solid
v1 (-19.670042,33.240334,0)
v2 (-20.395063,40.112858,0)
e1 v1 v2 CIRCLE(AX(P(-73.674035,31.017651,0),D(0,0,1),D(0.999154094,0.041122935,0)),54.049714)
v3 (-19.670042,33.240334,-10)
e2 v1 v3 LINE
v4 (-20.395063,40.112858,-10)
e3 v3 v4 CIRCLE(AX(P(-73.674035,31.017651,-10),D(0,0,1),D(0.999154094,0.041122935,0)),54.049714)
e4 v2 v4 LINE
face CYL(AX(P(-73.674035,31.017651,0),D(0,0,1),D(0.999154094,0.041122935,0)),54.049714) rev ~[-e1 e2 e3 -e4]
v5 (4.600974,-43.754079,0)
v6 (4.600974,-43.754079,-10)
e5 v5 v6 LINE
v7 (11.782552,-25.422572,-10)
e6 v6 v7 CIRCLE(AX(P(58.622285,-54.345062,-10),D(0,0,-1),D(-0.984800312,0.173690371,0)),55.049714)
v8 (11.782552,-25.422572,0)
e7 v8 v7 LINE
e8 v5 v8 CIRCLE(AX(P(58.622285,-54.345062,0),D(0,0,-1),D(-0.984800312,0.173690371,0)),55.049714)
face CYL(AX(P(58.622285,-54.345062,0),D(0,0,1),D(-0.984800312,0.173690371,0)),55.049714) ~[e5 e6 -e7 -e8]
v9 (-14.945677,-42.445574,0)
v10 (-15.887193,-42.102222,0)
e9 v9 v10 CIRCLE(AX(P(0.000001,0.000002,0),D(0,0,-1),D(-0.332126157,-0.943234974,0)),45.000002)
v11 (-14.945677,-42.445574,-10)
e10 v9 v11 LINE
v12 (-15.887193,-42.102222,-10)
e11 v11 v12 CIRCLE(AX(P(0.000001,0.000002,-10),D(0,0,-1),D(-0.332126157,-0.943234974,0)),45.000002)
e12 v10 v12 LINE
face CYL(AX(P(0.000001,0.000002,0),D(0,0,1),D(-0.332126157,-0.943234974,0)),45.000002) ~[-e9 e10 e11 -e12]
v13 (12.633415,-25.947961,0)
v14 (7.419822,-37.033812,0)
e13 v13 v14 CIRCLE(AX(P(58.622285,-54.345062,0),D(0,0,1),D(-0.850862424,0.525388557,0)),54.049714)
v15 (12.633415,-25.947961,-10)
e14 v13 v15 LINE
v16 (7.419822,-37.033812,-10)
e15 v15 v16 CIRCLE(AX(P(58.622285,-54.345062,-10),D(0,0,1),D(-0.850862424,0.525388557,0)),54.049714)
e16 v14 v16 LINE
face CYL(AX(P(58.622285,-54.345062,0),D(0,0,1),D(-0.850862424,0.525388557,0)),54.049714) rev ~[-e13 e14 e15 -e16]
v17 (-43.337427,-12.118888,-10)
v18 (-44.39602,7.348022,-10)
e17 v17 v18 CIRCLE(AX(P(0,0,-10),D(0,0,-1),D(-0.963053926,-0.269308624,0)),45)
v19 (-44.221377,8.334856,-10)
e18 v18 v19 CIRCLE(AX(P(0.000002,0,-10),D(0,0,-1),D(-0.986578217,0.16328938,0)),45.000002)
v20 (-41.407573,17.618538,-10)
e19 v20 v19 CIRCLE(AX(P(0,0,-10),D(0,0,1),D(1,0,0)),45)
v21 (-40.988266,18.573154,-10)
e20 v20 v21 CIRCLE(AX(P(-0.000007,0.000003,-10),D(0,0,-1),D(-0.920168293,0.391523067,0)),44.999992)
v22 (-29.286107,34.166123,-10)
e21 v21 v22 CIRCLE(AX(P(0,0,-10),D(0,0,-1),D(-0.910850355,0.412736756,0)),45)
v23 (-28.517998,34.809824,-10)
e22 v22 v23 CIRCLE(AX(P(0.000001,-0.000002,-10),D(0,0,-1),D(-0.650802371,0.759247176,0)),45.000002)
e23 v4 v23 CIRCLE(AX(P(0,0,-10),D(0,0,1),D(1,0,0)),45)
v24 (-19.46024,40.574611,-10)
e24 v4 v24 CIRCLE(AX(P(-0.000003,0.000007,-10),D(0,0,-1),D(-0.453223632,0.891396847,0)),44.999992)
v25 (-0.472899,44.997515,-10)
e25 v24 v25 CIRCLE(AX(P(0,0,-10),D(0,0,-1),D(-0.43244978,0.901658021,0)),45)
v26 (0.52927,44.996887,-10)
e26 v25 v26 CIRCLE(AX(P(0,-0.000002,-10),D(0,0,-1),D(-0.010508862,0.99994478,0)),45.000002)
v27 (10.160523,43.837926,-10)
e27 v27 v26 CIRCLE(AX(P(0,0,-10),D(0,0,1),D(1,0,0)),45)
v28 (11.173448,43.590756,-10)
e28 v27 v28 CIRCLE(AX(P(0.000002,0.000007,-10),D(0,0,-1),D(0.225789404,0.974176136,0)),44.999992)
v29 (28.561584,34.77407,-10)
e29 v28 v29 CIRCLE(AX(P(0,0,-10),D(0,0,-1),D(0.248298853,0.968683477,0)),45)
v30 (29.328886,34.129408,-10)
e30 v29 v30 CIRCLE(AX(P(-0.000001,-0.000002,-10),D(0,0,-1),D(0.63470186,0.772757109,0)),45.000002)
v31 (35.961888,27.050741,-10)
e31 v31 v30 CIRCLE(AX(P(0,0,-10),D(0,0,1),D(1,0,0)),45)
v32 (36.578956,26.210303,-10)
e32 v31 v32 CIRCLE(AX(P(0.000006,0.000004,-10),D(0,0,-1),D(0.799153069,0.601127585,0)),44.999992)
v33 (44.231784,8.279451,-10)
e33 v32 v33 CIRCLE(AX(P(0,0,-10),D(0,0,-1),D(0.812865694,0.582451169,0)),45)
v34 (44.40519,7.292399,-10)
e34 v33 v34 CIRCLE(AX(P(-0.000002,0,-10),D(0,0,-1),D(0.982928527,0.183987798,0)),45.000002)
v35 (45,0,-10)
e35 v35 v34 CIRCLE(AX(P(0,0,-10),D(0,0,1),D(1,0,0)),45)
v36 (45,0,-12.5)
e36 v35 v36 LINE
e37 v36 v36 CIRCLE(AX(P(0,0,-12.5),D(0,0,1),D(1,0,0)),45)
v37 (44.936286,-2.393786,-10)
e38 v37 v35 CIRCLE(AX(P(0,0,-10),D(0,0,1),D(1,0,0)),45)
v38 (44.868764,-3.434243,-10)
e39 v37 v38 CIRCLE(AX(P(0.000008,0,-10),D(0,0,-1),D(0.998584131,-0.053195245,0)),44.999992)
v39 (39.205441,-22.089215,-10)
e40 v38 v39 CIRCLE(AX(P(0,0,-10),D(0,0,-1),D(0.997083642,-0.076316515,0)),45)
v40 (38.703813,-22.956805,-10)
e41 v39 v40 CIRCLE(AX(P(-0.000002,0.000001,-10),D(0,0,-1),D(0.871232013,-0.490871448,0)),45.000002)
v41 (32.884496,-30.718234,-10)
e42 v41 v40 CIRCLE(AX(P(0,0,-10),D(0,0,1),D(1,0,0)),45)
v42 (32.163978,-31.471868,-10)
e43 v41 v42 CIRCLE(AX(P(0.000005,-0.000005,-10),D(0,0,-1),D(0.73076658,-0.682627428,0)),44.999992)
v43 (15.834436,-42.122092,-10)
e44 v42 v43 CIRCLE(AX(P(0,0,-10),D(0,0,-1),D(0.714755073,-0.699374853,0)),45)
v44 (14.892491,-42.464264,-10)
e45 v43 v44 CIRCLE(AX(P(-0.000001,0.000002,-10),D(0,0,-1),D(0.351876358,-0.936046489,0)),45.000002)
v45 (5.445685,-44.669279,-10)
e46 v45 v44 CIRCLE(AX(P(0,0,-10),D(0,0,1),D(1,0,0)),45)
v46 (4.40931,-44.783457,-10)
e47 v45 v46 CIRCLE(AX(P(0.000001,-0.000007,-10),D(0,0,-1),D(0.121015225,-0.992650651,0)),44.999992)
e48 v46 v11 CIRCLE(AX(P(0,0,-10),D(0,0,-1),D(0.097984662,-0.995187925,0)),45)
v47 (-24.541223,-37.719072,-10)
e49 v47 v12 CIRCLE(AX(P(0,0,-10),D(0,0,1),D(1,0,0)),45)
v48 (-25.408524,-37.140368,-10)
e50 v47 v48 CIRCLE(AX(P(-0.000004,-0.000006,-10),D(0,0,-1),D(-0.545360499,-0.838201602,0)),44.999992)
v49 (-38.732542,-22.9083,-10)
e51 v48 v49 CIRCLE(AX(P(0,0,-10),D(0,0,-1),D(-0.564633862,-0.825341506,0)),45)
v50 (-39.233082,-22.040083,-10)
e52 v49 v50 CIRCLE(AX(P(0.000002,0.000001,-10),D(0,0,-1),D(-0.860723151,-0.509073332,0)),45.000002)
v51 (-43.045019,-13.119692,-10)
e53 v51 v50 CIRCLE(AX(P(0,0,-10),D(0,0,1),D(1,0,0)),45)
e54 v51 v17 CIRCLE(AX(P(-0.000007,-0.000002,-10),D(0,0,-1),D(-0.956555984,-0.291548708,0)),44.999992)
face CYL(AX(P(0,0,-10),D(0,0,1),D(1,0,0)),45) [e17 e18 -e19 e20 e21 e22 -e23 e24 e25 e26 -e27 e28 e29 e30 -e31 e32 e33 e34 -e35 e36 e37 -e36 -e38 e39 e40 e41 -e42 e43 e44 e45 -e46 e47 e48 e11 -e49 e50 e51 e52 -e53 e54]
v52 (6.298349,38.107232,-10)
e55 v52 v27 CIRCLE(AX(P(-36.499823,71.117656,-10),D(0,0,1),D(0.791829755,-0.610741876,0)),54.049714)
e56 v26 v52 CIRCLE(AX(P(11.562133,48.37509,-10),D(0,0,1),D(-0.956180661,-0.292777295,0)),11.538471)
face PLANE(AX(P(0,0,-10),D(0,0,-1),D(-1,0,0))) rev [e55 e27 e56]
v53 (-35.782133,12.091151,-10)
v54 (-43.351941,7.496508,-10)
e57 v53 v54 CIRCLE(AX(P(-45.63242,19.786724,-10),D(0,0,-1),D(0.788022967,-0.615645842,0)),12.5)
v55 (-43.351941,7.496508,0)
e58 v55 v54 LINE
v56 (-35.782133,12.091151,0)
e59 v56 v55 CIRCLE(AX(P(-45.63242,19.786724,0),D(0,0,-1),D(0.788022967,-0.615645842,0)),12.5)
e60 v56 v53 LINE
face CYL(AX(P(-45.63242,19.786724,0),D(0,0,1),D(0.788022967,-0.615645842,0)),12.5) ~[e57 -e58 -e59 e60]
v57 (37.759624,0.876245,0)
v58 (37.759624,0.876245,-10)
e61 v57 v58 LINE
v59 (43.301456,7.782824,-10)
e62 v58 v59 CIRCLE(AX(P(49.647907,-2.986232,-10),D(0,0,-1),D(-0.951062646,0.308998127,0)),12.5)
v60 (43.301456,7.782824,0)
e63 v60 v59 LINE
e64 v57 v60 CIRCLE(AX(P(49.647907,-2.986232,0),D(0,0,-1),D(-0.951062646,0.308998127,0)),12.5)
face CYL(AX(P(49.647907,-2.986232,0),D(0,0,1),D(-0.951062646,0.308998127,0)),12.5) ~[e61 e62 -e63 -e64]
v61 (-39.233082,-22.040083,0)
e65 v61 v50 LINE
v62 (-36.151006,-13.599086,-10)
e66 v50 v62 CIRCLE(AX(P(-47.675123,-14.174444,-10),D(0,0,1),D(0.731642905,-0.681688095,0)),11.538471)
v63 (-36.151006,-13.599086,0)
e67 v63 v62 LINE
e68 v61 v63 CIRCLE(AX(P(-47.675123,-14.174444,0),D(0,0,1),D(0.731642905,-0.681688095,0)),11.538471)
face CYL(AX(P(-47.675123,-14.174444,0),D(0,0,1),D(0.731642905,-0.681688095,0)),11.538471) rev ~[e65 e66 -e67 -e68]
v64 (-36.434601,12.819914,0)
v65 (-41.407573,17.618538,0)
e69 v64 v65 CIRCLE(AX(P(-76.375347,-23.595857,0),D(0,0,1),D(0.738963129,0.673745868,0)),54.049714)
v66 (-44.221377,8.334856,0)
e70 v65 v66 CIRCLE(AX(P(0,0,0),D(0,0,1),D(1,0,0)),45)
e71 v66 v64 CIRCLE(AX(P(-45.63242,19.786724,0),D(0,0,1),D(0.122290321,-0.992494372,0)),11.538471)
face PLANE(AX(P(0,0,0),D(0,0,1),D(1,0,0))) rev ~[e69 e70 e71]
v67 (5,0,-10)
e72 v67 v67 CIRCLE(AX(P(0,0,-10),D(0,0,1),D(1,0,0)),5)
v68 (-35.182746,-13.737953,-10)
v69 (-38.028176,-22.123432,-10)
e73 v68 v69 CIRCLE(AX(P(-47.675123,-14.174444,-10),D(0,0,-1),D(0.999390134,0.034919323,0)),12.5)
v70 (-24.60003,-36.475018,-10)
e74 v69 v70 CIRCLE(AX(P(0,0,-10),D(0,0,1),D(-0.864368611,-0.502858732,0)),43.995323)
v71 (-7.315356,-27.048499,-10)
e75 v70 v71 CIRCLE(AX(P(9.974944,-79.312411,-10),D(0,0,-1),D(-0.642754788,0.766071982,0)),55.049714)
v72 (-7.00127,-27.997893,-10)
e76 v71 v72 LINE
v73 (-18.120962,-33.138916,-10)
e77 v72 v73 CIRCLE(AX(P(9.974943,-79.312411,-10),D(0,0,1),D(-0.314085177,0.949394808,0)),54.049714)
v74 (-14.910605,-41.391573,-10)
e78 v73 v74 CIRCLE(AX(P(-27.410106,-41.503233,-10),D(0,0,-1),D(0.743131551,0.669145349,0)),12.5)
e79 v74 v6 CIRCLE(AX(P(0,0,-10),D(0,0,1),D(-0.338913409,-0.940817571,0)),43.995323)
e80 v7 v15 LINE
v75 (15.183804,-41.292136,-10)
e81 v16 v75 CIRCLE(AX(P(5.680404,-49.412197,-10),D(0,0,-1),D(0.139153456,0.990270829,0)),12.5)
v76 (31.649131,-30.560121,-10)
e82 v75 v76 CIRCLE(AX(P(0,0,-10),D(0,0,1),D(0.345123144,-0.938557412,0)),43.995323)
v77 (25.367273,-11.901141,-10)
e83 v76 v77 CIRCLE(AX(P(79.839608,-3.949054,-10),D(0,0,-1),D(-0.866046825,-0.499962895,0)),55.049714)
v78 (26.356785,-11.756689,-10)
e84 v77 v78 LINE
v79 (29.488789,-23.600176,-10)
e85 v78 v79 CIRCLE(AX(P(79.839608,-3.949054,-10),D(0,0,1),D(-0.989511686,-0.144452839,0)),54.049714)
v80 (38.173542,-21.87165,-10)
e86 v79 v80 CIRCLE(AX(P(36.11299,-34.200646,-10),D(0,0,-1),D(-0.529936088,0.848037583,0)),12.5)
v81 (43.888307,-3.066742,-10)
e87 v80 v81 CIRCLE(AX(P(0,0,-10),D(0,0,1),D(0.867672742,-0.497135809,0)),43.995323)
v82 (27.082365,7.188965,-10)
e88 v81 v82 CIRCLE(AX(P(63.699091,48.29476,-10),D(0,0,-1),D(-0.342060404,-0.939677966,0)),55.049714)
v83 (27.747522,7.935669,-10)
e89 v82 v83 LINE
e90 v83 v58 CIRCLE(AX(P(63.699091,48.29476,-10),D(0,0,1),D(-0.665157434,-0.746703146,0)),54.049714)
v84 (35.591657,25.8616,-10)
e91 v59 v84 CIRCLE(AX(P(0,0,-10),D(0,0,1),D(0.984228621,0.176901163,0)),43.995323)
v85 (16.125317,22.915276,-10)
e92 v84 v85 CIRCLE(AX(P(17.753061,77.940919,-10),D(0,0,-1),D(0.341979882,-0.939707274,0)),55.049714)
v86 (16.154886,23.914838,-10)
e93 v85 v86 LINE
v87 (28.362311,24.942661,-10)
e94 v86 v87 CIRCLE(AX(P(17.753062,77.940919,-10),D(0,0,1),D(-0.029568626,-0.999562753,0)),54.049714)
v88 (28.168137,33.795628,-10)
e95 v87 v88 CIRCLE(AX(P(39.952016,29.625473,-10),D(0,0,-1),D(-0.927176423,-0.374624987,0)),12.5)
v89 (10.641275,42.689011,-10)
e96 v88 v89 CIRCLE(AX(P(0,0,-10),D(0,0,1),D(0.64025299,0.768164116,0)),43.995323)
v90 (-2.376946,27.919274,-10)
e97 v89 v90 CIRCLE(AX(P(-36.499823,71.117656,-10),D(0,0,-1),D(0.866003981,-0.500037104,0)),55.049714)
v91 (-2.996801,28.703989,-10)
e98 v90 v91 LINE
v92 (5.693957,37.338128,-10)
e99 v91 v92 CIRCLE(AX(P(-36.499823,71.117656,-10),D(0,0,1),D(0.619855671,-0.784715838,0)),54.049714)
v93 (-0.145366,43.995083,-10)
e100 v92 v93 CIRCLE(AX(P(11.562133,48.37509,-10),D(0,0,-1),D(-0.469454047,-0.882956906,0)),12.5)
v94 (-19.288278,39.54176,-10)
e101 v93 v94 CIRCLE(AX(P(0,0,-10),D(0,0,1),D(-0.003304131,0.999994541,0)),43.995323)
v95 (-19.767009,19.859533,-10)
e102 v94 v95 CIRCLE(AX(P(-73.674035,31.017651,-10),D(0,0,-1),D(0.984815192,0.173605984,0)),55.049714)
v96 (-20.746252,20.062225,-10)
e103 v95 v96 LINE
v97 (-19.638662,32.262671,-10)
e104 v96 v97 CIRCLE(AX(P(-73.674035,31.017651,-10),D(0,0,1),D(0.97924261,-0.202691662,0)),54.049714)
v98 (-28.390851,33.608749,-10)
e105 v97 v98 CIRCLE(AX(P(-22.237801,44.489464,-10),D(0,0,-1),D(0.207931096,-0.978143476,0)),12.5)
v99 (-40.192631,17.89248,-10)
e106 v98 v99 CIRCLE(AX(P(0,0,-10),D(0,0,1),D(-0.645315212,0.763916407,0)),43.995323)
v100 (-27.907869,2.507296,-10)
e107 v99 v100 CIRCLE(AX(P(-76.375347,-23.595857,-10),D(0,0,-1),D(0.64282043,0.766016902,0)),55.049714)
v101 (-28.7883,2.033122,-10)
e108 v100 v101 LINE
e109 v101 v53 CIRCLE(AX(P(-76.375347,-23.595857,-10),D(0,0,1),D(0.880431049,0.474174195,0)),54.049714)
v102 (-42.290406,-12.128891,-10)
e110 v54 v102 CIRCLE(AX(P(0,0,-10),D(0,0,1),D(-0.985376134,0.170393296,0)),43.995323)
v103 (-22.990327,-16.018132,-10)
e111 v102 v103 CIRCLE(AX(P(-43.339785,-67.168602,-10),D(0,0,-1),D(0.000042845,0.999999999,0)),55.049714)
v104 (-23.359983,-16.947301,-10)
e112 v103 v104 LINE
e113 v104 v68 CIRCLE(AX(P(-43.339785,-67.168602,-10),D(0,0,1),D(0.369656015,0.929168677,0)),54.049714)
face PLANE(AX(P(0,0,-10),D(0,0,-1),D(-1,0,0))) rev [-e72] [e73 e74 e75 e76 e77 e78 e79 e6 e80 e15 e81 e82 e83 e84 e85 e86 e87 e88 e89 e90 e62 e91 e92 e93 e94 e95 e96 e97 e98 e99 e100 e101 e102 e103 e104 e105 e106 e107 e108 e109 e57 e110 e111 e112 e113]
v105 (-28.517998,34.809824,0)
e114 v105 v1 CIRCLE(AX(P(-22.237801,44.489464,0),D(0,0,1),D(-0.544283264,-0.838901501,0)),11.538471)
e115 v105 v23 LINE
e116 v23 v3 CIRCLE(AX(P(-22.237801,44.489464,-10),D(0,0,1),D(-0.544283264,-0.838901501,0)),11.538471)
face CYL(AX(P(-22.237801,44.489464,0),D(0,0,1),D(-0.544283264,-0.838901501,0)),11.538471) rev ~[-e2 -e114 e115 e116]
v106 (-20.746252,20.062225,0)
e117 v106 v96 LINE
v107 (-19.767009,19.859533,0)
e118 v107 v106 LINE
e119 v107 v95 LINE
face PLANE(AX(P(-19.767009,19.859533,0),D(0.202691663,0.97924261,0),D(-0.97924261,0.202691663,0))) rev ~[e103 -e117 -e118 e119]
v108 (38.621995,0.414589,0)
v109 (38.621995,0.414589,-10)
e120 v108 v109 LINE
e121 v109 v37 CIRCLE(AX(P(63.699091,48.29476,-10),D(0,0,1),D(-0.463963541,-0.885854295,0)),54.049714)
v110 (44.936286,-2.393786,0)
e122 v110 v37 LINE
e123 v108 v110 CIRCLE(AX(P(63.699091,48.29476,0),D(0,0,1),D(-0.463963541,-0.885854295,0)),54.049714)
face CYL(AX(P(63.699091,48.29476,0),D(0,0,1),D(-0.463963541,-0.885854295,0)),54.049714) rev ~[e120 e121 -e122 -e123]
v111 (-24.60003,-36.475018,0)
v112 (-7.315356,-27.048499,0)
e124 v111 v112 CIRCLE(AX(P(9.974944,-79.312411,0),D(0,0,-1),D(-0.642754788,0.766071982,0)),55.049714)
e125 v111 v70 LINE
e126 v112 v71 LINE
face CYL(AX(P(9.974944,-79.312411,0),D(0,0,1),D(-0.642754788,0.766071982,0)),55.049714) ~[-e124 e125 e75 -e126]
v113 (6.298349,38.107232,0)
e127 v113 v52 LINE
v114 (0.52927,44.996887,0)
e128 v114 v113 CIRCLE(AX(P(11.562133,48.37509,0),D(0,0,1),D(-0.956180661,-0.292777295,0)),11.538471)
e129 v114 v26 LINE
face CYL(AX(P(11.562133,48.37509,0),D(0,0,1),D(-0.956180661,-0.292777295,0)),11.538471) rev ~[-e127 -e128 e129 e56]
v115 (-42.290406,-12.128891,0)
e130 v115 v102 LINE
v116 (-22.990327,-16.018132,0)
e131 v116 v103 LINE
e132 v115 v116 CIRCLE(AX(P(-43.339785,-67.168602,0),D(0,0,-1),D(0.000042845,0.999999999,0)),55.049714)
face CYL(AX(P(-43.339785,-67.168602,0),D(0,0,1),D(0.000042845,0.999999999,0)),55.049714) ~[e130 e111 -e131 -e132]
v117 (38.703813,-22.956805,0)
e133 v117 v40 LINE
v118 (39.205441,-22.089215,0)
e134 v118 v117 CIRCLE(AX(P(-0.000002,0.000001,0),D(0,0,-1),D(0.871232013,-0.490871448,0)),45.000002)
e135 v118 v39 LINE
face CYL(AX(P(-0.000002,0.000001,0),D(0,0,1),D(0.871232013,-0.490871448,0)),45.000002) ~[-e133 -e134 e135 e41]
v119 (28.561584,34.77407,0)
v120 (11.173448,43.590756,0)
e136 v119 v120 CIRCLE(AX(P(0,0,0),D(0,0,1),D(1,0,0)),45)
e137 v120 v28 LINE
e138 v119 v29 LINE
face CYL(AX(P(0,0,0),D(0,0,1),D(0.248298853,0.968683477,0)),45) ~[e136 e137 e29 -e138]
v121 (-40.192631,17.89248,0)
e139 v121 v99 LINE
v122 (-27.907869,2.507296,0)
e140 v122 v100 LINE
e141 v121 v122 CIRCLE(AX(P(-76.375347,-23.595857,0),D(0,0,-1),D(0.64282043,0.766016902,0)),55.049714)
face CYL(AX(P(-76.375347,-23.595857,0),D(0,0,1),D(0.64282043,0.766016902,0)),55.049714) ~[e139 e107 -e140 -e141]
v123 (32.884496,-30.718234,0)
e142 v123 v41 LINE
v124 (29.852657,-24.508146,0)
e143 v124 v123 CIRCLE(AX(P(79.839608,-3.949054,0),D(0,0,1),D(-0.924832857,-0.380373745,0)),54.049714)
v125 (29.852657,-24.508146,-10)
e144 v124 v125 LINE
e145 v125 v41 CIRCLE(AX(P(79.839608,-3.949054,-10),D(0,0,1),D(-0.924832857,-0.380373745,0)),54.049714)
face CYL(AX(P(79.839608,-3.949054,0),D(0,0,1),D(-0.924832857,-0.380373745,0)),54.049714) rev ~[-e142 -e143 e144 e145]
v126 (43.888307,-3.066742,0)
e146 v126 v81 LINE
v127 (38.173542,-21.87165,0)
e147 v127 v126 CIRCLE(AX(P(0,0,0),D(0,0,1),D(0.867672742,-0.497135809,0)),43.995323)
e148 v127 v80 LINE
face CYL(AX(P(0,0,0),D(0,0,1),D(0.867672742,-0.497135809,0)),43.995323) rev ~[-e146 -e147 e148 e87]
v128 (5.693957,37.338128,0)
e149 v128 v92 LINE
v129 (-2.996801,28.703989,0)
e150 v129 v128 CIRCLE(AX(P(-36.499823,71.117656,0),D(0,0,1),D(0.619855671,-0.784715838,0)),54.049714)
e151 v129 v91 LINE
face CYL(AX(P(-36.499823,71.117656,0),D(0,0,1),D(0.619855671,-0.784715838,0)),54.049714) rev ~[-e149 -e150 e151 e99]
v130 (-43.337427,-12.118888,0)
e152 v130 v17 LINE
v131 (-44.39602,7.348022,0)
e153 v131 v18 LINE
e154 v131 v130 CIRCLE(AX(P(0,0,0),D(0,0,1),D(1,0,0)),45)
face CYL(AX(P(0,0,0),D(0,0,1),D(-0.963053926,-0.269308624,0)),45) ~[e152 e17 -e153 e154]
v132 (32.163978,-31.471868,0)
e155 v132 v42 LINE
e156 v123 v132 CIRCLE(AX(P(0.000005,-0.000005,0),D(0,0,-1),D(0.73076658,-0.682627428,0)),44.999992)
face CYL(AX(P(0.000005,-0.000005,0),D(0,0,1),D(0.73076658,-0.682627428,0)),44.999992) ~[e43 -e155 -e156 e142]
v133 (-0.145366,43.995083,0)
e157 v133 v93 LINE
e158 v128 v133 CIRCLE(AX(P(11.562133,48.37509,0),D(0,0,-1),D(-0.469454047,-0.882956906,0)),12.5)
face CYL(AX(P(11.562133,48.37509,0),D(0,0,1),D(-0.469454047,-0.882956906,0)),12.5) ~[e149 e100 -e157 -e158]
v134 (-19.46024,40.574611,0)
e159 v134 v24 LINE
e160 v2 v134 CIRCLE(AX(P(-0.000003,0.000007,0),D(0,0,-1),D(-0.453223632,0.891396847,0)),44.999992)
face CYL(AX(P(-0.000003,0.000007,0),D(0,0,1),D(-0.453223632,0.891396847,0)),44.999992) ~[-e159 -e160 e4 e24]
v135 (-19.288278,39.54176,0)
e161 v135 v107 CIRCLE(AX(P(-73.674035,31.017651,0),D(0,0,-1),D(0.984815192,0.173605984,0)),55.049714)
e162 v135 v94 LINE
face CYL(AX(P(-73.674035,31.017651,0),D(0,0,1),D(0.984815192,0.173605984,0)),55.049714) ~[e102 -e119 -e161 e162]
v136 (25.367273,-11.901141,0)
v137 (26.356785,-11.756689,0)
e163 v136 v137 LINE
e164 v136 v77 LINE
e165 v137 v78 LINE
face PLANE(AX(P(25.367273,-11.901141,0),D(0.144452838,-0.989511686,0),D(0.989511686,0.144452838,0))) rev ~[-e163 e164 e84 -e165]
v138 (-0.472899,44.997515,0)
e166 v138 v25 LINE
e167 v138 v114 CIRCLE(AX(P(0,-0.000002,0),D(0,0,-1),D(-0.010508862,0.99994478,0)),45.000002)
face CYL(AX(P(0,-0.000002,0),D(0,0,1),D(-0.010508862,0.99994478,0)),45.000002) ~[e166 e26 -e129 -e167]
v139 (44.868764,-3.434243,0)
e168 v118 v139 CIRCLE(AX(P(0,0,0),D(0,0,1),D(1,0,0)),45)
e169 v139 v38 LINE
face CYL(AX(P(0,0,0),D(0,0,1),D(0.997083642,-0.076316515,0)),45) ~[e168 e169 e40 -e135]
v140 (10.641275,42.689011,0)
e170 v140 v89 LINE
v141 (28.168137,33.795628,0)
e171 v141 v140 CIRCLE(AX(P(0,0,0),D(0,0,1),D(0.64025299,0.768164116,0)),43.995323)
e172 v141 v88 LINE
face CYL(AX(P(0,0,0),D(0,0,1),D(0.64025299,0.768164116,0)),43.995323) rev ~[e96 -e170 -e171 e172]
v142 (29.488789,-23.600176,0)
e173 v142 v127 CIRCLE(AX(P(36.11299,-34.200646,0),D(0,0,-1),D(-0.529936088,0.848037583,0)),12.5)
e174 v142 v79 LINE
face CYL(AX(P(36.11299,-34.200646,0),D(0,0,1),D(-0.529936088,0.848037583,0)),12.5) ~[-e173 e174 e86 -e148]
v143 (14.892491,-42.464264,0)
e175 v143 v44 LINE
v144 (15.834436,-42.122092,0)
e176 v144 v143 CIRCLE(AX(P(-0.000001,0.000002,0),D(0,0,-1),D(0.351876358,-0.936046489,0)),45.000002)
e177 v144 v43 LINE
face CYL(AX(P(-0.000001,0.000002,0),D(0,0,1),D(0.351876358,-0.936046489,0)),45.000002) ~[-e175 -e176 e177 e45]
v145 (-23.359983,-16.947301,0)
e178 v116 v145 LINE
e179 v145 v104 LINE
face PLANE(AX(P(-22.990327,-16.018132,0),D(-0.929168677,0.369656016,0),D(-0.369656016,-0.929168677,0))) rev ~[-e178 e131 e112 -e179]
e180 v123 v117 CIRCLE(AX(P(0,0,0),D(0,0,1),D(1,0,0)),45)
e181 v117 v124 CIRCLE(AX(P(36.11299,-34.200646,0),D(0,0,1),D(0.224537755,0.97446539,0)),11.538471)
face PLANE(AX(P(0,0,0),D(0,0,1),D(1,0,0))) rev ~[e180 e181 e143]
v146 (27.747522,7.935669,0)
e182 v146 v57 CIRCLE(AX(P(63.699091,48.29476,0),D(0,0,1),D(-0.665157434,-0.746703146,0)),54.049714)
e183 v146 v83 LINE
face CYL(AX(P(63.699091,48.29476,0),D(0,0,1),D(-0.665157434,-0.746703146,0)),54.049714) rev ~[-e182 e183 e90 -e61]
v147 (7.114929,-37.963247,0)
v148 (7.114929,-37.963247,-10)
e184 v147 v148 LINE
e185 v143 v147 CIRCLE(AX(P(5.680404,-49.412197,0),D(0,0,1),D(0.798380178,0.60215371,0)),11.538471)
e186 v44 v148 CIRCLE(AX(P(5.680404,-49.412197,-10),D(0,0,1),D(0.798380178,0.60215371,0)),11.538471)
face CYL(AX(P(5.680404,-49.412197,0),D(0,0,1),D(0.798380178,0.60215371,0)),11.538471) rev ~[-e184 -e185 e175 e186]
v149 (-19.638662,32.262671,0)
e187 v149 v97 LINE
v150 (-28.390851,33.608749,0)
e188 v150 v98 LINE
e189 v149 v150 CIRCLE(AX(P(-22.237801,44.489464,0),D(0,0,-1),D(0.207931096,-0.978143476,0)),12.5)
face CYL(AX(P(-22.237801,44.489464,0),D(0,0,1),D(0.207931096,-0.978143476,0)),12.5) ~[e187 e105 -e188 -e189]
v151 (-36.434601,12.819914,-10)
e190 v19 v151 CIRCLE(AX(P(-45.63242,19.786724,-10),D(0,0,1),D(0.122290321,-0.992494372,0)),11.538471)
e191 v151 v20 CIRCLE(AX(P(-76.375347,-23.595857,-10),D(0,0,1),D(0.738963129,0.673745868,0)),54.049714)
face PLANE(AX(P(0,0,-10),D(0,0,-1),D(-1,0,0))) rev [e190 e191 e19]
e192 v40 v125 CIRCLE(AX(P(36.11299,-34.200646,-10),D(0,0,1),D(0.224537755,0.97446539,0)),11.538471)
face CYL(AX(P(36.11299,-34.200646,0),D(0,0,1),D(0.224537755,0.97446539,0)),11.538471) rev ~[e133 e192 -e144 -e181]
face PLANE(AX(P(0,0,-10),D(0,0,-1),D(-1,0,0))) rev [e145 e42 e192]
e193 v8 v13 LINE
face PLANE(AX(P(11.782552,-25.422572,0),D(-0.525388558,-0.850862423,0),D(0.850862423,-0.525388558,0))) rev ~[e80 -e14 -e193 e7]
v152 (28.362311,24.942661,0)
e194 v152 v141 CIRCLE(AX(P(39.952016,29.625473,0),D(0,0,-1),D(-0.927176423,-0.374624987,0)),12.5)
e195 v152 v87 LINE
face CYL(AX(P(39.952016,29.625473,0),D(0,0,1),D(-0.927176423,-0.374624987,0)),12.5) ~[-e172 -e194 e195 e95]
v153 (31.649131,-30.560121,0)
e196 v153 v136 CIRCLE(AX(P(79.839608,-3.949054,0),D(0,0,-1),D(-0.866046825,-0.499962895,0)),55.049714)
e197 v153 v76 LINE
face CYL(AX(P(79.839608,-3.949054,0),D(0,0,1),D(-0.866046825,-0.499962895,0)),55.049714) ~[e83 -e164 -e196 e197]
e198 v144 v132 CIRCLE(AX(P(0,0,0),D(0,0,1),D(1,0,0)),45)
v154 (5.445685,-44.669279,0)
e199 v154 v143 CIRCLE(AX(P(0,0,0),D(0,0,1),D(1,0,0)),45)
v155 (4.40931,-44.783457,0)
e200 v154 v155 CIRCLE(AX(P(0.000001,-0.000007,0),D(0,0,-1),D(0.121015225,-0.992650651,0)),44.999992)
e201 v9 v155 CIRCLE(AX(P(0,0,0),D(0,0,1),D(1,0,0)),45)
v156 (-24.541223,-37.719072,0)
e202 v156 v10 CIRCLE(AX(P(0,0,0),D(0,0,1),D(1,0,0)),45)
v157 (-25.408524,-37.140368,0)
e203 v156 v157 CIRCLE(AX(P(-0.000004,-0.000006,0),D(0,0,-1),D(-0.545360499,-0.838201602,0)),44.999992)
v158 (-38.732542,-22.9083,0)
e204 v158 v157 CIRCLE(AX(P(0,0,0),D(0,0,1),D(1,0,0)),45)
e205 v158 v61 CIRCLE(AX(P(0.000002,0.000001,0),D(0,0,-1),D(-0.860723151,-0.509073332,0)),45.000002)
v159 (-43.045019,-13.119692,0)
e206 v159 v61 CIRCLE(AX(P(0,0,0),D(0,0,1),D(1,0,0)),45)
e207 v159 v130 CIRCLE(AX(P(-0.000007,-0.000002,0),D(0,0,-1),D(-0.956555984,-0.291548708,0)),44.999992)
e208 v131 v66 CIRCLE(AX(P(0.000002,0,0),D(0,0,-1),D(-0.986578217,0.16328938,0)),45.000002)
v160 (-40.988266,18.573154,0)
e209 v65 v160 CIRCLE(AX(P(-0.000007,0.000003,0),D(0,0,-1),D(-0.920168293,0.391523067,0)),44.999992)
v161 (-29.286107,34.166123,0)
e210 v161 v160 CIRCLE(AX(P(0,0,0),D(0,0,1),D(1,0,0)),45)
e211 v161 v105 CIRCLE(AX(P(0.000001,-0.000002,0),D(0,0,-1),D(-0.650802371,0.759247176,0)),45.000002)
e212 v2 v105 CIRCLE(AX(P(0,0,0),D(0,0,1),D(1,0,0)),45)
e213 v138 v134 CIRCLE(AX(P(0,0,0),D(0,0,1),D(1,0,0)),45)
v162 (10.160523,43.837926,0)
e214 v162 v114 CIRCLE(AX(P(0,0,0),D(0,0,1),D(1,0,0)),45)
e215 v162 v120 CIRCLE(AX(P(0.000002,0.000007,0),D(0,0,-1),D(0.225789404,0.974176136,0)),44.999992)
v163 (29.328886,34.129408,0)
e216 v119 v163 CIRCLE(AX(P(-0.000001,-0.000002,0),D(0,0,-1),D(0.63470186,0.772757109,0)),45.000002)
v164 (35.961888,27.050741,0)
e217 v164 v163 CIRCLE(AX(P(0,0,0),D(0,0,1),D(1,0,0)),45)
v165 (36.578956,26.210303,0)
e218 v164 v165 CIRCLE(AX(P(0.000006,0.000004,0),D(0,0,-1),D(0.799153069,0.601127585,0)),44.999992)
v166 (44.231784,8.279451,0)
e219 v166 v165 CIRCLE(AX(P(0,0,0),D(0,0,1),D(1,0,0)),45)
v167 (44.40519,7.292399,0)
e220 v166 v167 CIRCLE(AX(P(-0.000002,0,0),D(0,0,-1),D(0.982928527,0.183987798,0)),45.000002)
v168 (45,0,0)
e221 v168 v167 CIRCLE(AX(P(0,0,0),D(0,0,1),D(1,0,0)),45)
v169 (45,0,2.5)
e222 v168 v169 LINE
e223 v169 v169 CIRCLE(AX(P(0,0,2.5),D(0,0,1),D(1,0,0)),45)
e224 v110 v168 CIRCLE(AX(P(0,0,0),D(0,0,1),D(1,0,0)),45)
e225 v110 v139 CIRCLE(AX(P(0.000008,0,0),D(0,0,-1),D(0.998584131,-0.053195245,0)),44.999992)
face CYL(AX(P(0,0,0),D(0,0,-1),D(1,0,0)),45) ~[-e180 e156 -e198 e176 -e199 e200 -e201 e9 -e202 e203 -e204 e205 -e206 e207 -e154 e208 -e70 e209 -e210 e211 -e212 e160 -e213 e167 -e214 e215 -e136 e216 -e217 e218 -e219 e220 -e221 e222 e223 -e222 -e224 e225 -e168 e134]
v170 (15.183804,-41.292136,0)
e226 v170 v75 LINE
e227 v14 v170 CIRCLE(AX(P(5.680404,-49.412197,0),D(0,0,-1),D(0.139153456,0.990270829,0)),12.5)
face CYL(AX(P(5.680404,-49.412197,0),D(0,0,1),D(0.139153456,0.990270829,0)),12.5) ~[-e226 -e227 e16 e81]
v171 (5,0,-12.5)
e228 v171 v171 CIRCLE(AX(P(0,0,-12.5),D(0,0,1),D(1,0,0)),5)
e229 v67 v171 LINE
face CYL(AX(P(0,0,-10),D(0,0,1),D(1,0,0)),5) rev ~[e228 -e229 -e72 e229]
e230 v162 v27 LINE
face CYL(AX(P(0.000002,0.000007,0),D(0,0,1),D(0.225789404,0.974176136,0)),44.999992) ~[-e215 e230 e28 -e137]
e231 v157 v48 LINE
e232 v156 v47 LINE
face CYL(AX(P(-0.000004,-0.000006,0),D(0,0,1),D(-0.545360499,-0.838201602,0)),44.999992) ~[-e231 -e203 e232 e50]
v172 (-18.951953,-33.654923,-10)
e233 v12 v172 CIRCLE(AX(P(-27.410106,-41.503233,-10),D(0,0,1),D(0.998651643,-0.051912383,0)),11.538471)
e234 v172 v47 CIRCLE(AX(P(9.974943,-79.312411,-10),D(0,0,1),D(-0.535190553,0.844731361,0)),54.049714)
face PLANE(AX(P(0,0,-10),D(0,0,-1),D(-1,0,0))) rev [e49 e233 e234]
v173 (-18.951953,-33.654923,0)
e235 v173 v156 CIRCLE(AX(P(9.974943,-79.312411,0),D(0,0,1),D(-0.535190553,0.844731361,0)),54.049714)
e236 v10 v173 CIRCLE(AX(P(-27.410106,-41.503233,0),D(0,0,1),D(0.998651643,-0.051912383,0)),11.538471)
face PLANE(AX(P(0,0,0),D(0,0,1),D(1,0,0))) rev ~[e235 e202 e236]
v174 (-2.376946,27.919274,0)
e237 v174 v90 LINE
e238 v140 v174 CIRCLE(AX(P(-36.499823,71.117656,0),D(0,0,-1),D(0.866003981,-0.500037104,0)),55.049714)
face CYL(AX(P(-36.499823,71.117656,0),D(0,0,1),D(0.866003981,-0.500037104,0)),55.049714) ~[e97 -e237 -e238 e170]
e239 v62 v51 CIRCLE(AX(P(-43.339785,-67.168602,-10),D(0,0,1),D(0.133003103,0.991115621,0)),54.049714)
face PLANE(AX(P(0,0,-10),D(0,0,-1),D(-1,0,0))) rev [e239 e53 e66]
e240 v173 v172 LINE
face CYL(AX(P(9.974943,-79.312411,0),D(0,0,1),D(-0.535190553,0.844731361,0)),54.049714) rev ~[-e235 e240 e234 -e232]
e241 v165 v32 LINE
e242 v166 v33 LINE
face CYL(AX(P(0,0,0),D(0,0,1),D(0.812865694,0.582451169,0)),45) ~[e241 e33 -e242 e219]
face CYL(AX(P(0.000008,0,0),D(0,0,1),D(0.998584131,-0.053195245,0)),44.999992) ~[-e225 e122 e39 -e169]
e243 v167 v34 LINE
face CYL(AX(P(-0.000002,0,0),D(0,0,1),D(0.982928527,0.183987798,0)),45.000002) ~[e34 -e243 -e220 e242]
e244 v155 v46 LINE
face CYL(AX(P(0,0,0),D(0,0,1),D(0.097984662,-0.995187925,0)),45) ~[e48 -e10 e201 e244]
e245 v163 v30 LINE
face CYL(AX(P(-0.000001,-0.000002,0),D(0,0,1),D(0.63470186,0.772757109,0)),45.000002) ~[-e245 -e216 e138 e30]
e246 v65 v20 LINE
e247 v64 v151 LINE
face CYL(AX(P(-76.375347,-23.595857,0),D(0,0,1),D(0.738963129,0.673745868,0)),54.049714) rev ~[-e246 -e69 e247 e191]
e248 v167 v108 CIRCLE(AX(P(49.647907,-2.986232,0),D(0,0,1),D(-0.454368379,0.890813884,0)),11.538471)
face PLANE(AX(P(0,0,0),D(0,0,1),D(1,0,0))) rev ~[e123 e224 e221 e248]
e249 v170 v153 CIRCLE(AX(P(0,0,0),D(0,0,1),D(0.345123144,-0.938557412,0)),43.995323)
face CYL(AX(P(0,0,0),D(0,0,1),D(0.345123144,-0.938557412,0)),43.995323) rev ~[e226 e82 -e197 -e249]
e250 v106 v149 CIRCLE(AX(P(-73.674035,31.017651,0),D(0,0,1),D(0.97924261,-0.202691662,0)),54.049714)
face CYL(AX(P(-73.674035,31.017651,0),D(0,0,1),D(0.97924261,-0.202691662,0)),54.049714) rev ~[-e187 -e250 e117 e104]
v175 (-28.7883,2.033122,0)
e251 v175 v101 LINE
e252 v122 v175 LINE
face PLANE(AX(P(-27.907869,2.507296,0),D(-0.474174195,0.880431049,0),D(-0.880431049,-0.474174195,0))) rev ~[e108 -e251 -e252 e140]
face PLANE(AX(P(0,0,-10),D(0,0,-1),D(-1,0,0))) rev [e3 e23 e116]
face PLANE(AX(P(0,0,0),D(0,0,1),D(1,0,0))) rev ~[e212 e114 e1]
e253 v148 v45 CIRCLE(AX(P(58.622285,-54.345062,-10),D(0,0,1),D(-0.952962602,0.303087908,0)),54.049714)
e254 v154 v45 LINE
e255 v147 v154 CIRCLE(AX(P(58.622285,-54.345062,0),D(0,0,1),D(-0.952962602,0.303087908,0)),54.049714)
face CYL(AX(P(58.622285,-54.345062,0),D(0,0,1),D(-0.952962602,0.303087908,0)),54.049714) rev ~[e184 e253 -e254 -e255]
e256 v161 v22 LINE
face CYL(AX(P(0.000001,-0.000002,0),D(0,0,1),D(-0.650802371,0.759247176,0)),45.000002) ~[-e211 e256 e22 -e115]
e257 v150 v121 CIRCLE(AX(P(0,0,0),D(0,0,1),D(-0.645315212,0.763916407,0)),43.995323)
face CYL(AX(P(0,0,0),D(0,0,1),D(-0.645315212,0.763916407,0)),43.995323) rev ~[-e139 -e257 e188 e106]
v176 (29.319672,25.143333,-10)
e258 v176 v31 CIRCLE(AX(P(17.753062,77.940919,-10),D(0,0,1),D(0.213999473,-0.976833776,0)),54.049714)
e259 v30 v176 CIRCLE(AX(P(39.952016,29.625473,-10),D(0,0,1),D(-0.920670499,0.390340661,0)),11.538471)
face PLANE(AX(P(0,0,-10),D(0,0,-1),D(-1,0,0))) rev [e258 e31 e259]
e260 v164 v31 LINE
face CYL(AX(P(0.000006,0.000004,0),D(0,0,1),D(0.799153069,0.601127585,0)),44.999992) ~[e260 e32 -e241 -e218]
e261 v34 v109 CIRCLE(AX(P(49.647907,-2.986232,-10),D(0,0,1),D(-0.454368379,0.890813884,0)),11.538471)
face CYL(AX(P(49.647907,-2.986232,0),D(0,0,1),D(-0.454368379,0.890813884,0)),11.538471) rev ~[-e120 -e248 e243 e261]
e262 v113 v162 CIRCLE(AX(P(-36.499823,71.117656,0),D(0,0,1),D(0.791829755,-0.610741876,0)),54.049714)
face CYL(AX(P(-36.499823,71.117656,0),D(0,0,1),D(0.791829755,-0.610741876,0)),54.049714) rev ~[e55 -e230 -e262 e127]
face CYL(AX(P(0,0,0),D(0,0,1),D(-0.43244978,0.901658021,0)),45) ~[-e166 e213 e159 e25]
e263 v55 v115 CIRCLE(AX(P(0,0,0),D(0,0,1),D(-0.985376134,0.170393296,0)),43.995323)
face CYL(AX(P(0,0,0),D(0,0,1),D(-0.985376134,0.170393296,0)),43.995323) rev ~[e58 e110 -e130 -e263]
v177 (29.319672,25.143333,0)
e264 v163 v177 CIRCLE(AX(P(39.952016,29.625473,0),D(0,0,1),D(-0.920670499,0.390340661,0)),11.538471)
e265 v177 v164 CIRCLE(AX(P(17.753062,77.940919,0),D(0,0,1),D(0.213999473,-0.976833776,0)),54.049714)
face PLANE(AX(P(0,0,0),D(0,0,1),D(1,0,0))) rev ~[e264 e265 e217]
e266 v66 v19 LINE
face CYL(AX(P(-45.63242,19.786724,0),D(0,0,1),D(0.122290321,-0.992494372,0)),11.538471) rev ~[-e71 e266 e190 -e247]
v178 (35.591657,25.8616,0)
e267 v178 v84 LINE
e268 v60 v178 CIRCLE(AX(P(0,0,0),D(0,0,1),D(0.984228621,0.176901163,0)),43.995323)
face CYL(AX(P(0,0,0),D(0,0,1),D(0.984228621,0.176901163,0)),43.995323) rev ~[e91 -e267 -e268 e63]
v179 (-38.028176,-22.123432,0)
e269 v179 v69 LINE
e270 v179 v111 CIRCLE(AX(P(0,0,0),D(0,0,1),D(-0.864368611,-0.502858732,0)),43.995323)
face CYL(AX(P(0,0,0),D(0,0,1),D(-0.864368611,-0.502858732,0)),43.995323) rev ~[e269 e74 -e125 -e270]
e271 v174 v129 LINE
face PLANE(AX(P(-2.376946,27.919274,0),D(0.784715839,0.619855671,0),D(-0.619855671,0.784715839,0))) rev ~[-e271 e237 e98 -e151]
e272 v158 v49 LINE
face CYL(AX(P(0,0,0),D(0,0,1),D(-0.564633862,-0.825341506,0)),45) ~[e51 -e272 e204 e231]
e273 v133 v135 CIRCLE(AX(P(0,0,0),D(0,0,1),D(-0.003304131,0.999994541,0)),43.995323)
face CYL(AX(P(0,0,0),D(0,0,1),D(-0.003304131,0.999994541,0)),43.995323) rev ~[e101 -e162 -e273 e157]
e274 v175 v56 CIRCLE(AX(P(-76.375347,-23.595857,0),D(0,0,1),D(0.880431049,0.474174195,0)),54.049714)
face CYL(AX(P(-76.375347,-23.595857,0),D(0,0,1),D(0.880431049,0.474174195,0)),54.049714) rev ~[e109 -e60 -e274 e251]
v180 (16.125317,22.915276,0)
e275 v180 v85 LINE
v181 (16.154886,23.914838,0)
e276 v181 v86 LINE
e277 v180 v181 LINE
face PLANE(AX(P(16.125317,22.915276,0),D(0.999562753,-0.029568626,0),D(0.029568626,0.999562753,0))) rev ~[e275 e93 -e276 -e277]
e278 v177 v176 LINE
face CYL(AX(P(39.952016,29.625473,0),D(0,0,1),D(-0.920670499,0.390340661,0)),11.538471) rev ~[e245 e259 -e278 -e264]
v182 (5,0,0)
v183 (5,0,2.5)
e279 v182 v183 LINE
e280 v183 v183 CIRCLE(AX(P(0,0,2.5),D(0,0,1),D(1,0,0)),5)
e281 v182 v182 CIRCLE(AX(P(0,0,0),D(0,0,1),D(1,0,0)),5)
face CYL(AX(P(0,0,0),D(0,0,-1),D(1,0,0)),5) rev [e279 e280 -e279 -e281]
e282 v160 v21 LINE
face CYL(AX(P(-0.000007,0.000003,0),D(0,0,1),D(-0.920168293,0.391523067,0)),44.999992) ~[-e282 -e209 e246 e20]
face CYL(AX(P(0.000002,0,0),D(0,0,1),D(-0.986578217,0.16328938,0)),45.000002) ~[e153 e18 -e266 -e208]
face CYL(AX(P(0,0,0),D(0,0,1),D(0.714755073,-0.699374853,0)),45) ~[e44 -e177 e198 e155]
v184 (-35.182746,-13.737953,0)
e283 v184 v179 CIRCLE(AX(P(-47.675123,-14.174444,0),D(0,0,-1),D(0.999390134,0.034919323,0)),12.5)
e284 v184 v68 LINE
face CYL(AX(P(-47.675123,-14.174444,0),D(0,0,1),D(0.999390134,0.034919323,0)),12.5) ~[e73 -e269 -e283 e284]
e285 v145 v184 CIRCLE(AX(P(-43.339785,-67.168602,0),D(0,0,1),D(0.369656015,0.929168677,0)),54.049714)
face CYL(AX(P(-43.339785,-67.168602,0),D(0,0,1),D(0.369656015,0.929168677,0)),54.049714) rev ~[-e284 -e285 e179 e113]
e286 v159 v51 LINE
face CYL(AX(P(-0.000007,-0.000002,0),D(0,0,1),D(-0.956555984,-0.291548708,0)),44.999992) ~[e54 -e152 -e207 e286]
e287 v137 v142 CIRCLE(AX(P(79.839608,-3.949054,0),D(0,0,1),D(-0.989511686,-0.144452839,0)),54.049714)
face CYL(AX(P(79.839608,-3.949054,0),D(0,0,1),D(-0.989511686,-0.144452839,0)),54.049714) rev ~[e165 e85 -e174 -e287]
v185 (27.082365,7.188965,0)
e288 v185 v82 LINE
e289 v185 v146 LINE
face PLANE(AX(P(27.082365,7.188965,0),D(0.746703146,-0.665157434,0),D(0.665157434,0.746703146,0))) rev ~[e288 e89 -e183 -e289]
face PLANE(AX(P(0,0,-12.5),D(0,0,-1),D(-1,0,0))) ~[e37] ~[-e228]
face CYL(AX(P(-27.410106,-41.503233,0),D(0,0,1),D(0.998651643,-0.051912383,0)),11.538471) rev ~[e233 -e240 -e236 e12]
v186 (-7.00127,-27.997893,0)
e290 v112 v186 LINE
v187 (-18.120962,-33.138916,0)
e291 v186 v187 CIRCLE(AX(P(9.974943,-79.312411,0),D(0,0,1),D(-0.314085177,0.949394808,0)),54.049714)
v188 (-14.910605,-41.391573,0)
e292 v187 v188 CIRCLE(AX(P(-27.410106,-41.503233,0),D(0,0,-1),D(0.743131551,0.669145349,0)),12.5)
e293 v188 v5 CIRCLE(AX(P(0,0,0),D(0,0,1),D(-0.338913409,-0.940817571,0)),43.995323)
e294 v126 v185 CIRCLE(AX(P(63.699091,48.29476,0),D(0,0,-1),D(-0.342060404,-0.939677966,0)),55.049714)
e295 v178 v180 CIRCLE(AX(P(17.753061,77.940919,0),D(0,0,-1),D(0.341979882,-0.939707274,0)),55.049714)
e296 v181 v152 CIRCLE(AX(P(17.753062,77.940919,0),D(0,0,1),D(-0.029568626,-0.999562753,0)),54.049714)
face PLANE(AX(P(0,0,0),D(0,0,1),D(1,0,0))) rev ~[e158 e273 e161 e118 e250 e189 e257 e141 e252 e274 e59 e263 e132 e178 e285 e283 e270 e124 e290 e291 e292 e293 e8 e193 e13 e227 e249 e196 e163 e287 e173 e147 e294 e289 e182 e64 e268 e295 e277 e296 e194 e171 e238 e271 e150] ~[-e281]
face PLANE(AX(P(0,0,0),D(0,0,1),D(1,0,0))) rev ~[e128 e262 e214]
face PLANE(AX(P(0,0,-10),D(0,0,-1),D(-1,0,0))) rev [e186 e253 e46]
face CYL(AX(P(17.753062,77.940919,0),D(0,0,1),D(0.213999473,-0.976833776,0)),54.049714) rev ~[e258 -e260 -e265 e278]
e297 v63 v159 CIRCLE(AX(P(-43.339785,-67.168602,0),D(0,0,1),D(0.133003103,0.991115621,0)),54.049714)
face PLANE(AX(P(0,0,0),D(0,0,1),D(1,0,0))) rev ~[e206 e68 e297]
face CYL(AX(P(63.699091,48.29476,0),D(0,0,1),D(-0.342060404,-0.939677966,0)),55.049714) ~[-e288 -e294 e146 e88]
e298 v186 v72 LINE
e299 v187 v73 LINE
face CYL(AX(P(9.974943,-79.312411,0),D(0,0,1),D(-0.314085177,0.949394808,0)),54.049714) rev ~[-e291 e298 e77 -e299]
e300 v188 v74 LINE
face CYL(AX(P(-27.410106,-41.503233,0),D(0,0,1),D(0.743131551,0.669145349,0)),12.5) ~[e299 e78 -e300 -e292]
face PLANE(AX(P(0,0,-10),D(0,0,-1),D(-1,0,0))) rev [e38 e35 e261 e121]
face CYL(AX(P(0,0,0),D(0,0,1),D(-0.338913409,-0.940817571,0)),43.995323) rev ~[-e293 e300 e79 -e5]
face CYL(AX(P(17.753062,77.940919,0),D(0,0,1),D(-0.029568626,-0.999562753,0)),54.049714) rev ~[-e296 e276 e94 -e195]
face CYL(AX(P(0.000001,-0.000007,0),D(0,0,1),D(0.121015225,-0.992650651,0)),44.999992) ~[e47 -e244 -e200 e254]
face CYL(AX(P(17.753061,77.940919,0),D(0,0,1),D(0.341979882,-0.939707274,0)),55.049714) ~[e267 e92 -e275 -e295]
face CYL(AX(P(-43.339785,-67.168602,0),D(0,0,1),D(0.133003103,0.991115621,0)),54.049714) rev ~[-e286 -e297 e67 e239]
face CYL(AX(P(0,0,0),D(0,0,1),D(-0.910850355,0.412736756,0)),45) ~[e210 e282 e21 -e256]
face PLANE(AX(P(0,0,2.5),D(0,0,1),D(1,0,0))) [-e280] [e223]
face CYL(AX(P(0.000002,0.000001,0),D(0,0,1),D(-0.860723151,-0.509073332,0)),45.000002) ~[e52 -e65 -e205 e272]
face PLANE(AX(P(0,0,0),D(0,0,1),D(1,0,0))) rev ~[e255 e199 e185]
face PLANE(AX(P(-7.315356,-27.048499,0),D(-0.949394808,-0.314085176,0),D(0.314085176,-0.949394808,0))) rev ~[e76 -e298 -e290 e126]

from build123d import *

# Parameters (mm, degrees)
SKETCH1_R           = 45
SKETCH1_R_2         = 5
BOSS_EXTRUDE1_DEPTH = 2.5
BOSS_EXTRUDE2_DEPTH = 10
CIRPATTERN3_COUNT   = 9
BOSS_EXTRUDE6_DEPTH = 10
CIRPATTERN4_COUNT   = 9


with BuildPart() as part:
    # Sketch1 → Boss-Extrude1 (new body)
    with BuildSketch(Plane.XY):
        Circle(SKETCH1_R)
        Circle(SKETCH1_R_2, mode=Mode.SUBTRACT)
    boss_extrude1 = extrude(amount=BOSS_EXTRUDE1_DEPTH)

    # Sketch2 → Boss-Extrude2 (add)
    with BuildSketch(Plane(origin=(0, 0, 0), x_dir=(-1, 0, 0), z_dir=(0, 0, -1))):
        with BuildLine():
            Line((2.376945651, 27.919273565), (2.996801322, 28.703989404))
            ThreePointArc((2.996801322, 28.703989404), (-1.593989447, 32.774038165), (-5.693957299, 37.338128482))
            ThreePointArc((-5.693957299, 37.338128482), (-1.825718804, 40.535941838), (0.472898867, 44.997515117))
            ThreePointArc((0.472898867, 44.997515117), (-0.028187178, 44.999991172), (-0.529269728, 44.996887376))
            ThreePointArc((-0.529269728, 44.996887376), (-2.71555077, 40.967370456), (-6.298348731, 38.107232317))
            ThreePointArc((-6.298348731, 38.107232317), (-8.321118794, 40.910790025), (-10.160523263, 43.837926126))
            ThreePointArc((-10.160523263, 43.837926126), (-10.667701719, 43.717275076), (-11.173448403, 43.590756483))
            ThreePointArc((-11.173448403, 43.590756483), (-5.142118978, 35.111827702), (2.376945651, 27.919273565))
        make_face()
    boss_extrude2 = extrude(amount=BOSS_EXTRUDE2_DEPTH)

    # CirPattern3: Boss-Extrude2 ×9 about axis
    cirpattern3_axis = Axis((0, 0, 0), (0, 0, 1))
    for i in range(1, CIRPATTERN3_COUNT):
        add(boss_extrude2.rotate(cirpattern3_axis, i * 360 / CIRPATTERN3_COUNT))

    # Sketch3 → Boss-Extrude6 (add)
    with BuildSketch(Plane(origin=(0, 0, 0), x_dir=(-1, 0, 0), z_dir=(0, 0, -1))):
        with BuildLine():
            ThreePointArc((0.145366303, 43.995082638), (9.96868345, 42.851065074), (19.288277599, 39.541759887))
            ThreePointArc((19.288277599, 39.541759887), (19.371803139, 40.058594285), (19.460240105, 40.574610966))
            ThreePointArc((19.460240105, 40.574610966), (10.208967999, 43.826669648), (0.472898867, 44.997515117))
            ThreePointArc((0.472898867, 44.997515117), (0.31970879, 44.492843232), (0.145366303, 43.995082638))
        make_face()
    boss_extrude6 = extrude(amount=BOSS_EXTRUDE6_DEPTH)

    # CirPattern4: Boss-Extrude6 ×9 about axis
    cirpattern4_axis = Axis((0, 0, 2.5), (0, 0, -1))
    for i in range(1, CIRPATTERN4_COUNT):
        add(boss_extrude6.rotate(cirpattern4_axis, i * 360 / CIRPATTERN4_COUNT))

    # Mirror3: Boss-Extrude1 across plane
    add(boss_extrude1.mirror(Plane.XY.offset(-5)))


solid = part.part
